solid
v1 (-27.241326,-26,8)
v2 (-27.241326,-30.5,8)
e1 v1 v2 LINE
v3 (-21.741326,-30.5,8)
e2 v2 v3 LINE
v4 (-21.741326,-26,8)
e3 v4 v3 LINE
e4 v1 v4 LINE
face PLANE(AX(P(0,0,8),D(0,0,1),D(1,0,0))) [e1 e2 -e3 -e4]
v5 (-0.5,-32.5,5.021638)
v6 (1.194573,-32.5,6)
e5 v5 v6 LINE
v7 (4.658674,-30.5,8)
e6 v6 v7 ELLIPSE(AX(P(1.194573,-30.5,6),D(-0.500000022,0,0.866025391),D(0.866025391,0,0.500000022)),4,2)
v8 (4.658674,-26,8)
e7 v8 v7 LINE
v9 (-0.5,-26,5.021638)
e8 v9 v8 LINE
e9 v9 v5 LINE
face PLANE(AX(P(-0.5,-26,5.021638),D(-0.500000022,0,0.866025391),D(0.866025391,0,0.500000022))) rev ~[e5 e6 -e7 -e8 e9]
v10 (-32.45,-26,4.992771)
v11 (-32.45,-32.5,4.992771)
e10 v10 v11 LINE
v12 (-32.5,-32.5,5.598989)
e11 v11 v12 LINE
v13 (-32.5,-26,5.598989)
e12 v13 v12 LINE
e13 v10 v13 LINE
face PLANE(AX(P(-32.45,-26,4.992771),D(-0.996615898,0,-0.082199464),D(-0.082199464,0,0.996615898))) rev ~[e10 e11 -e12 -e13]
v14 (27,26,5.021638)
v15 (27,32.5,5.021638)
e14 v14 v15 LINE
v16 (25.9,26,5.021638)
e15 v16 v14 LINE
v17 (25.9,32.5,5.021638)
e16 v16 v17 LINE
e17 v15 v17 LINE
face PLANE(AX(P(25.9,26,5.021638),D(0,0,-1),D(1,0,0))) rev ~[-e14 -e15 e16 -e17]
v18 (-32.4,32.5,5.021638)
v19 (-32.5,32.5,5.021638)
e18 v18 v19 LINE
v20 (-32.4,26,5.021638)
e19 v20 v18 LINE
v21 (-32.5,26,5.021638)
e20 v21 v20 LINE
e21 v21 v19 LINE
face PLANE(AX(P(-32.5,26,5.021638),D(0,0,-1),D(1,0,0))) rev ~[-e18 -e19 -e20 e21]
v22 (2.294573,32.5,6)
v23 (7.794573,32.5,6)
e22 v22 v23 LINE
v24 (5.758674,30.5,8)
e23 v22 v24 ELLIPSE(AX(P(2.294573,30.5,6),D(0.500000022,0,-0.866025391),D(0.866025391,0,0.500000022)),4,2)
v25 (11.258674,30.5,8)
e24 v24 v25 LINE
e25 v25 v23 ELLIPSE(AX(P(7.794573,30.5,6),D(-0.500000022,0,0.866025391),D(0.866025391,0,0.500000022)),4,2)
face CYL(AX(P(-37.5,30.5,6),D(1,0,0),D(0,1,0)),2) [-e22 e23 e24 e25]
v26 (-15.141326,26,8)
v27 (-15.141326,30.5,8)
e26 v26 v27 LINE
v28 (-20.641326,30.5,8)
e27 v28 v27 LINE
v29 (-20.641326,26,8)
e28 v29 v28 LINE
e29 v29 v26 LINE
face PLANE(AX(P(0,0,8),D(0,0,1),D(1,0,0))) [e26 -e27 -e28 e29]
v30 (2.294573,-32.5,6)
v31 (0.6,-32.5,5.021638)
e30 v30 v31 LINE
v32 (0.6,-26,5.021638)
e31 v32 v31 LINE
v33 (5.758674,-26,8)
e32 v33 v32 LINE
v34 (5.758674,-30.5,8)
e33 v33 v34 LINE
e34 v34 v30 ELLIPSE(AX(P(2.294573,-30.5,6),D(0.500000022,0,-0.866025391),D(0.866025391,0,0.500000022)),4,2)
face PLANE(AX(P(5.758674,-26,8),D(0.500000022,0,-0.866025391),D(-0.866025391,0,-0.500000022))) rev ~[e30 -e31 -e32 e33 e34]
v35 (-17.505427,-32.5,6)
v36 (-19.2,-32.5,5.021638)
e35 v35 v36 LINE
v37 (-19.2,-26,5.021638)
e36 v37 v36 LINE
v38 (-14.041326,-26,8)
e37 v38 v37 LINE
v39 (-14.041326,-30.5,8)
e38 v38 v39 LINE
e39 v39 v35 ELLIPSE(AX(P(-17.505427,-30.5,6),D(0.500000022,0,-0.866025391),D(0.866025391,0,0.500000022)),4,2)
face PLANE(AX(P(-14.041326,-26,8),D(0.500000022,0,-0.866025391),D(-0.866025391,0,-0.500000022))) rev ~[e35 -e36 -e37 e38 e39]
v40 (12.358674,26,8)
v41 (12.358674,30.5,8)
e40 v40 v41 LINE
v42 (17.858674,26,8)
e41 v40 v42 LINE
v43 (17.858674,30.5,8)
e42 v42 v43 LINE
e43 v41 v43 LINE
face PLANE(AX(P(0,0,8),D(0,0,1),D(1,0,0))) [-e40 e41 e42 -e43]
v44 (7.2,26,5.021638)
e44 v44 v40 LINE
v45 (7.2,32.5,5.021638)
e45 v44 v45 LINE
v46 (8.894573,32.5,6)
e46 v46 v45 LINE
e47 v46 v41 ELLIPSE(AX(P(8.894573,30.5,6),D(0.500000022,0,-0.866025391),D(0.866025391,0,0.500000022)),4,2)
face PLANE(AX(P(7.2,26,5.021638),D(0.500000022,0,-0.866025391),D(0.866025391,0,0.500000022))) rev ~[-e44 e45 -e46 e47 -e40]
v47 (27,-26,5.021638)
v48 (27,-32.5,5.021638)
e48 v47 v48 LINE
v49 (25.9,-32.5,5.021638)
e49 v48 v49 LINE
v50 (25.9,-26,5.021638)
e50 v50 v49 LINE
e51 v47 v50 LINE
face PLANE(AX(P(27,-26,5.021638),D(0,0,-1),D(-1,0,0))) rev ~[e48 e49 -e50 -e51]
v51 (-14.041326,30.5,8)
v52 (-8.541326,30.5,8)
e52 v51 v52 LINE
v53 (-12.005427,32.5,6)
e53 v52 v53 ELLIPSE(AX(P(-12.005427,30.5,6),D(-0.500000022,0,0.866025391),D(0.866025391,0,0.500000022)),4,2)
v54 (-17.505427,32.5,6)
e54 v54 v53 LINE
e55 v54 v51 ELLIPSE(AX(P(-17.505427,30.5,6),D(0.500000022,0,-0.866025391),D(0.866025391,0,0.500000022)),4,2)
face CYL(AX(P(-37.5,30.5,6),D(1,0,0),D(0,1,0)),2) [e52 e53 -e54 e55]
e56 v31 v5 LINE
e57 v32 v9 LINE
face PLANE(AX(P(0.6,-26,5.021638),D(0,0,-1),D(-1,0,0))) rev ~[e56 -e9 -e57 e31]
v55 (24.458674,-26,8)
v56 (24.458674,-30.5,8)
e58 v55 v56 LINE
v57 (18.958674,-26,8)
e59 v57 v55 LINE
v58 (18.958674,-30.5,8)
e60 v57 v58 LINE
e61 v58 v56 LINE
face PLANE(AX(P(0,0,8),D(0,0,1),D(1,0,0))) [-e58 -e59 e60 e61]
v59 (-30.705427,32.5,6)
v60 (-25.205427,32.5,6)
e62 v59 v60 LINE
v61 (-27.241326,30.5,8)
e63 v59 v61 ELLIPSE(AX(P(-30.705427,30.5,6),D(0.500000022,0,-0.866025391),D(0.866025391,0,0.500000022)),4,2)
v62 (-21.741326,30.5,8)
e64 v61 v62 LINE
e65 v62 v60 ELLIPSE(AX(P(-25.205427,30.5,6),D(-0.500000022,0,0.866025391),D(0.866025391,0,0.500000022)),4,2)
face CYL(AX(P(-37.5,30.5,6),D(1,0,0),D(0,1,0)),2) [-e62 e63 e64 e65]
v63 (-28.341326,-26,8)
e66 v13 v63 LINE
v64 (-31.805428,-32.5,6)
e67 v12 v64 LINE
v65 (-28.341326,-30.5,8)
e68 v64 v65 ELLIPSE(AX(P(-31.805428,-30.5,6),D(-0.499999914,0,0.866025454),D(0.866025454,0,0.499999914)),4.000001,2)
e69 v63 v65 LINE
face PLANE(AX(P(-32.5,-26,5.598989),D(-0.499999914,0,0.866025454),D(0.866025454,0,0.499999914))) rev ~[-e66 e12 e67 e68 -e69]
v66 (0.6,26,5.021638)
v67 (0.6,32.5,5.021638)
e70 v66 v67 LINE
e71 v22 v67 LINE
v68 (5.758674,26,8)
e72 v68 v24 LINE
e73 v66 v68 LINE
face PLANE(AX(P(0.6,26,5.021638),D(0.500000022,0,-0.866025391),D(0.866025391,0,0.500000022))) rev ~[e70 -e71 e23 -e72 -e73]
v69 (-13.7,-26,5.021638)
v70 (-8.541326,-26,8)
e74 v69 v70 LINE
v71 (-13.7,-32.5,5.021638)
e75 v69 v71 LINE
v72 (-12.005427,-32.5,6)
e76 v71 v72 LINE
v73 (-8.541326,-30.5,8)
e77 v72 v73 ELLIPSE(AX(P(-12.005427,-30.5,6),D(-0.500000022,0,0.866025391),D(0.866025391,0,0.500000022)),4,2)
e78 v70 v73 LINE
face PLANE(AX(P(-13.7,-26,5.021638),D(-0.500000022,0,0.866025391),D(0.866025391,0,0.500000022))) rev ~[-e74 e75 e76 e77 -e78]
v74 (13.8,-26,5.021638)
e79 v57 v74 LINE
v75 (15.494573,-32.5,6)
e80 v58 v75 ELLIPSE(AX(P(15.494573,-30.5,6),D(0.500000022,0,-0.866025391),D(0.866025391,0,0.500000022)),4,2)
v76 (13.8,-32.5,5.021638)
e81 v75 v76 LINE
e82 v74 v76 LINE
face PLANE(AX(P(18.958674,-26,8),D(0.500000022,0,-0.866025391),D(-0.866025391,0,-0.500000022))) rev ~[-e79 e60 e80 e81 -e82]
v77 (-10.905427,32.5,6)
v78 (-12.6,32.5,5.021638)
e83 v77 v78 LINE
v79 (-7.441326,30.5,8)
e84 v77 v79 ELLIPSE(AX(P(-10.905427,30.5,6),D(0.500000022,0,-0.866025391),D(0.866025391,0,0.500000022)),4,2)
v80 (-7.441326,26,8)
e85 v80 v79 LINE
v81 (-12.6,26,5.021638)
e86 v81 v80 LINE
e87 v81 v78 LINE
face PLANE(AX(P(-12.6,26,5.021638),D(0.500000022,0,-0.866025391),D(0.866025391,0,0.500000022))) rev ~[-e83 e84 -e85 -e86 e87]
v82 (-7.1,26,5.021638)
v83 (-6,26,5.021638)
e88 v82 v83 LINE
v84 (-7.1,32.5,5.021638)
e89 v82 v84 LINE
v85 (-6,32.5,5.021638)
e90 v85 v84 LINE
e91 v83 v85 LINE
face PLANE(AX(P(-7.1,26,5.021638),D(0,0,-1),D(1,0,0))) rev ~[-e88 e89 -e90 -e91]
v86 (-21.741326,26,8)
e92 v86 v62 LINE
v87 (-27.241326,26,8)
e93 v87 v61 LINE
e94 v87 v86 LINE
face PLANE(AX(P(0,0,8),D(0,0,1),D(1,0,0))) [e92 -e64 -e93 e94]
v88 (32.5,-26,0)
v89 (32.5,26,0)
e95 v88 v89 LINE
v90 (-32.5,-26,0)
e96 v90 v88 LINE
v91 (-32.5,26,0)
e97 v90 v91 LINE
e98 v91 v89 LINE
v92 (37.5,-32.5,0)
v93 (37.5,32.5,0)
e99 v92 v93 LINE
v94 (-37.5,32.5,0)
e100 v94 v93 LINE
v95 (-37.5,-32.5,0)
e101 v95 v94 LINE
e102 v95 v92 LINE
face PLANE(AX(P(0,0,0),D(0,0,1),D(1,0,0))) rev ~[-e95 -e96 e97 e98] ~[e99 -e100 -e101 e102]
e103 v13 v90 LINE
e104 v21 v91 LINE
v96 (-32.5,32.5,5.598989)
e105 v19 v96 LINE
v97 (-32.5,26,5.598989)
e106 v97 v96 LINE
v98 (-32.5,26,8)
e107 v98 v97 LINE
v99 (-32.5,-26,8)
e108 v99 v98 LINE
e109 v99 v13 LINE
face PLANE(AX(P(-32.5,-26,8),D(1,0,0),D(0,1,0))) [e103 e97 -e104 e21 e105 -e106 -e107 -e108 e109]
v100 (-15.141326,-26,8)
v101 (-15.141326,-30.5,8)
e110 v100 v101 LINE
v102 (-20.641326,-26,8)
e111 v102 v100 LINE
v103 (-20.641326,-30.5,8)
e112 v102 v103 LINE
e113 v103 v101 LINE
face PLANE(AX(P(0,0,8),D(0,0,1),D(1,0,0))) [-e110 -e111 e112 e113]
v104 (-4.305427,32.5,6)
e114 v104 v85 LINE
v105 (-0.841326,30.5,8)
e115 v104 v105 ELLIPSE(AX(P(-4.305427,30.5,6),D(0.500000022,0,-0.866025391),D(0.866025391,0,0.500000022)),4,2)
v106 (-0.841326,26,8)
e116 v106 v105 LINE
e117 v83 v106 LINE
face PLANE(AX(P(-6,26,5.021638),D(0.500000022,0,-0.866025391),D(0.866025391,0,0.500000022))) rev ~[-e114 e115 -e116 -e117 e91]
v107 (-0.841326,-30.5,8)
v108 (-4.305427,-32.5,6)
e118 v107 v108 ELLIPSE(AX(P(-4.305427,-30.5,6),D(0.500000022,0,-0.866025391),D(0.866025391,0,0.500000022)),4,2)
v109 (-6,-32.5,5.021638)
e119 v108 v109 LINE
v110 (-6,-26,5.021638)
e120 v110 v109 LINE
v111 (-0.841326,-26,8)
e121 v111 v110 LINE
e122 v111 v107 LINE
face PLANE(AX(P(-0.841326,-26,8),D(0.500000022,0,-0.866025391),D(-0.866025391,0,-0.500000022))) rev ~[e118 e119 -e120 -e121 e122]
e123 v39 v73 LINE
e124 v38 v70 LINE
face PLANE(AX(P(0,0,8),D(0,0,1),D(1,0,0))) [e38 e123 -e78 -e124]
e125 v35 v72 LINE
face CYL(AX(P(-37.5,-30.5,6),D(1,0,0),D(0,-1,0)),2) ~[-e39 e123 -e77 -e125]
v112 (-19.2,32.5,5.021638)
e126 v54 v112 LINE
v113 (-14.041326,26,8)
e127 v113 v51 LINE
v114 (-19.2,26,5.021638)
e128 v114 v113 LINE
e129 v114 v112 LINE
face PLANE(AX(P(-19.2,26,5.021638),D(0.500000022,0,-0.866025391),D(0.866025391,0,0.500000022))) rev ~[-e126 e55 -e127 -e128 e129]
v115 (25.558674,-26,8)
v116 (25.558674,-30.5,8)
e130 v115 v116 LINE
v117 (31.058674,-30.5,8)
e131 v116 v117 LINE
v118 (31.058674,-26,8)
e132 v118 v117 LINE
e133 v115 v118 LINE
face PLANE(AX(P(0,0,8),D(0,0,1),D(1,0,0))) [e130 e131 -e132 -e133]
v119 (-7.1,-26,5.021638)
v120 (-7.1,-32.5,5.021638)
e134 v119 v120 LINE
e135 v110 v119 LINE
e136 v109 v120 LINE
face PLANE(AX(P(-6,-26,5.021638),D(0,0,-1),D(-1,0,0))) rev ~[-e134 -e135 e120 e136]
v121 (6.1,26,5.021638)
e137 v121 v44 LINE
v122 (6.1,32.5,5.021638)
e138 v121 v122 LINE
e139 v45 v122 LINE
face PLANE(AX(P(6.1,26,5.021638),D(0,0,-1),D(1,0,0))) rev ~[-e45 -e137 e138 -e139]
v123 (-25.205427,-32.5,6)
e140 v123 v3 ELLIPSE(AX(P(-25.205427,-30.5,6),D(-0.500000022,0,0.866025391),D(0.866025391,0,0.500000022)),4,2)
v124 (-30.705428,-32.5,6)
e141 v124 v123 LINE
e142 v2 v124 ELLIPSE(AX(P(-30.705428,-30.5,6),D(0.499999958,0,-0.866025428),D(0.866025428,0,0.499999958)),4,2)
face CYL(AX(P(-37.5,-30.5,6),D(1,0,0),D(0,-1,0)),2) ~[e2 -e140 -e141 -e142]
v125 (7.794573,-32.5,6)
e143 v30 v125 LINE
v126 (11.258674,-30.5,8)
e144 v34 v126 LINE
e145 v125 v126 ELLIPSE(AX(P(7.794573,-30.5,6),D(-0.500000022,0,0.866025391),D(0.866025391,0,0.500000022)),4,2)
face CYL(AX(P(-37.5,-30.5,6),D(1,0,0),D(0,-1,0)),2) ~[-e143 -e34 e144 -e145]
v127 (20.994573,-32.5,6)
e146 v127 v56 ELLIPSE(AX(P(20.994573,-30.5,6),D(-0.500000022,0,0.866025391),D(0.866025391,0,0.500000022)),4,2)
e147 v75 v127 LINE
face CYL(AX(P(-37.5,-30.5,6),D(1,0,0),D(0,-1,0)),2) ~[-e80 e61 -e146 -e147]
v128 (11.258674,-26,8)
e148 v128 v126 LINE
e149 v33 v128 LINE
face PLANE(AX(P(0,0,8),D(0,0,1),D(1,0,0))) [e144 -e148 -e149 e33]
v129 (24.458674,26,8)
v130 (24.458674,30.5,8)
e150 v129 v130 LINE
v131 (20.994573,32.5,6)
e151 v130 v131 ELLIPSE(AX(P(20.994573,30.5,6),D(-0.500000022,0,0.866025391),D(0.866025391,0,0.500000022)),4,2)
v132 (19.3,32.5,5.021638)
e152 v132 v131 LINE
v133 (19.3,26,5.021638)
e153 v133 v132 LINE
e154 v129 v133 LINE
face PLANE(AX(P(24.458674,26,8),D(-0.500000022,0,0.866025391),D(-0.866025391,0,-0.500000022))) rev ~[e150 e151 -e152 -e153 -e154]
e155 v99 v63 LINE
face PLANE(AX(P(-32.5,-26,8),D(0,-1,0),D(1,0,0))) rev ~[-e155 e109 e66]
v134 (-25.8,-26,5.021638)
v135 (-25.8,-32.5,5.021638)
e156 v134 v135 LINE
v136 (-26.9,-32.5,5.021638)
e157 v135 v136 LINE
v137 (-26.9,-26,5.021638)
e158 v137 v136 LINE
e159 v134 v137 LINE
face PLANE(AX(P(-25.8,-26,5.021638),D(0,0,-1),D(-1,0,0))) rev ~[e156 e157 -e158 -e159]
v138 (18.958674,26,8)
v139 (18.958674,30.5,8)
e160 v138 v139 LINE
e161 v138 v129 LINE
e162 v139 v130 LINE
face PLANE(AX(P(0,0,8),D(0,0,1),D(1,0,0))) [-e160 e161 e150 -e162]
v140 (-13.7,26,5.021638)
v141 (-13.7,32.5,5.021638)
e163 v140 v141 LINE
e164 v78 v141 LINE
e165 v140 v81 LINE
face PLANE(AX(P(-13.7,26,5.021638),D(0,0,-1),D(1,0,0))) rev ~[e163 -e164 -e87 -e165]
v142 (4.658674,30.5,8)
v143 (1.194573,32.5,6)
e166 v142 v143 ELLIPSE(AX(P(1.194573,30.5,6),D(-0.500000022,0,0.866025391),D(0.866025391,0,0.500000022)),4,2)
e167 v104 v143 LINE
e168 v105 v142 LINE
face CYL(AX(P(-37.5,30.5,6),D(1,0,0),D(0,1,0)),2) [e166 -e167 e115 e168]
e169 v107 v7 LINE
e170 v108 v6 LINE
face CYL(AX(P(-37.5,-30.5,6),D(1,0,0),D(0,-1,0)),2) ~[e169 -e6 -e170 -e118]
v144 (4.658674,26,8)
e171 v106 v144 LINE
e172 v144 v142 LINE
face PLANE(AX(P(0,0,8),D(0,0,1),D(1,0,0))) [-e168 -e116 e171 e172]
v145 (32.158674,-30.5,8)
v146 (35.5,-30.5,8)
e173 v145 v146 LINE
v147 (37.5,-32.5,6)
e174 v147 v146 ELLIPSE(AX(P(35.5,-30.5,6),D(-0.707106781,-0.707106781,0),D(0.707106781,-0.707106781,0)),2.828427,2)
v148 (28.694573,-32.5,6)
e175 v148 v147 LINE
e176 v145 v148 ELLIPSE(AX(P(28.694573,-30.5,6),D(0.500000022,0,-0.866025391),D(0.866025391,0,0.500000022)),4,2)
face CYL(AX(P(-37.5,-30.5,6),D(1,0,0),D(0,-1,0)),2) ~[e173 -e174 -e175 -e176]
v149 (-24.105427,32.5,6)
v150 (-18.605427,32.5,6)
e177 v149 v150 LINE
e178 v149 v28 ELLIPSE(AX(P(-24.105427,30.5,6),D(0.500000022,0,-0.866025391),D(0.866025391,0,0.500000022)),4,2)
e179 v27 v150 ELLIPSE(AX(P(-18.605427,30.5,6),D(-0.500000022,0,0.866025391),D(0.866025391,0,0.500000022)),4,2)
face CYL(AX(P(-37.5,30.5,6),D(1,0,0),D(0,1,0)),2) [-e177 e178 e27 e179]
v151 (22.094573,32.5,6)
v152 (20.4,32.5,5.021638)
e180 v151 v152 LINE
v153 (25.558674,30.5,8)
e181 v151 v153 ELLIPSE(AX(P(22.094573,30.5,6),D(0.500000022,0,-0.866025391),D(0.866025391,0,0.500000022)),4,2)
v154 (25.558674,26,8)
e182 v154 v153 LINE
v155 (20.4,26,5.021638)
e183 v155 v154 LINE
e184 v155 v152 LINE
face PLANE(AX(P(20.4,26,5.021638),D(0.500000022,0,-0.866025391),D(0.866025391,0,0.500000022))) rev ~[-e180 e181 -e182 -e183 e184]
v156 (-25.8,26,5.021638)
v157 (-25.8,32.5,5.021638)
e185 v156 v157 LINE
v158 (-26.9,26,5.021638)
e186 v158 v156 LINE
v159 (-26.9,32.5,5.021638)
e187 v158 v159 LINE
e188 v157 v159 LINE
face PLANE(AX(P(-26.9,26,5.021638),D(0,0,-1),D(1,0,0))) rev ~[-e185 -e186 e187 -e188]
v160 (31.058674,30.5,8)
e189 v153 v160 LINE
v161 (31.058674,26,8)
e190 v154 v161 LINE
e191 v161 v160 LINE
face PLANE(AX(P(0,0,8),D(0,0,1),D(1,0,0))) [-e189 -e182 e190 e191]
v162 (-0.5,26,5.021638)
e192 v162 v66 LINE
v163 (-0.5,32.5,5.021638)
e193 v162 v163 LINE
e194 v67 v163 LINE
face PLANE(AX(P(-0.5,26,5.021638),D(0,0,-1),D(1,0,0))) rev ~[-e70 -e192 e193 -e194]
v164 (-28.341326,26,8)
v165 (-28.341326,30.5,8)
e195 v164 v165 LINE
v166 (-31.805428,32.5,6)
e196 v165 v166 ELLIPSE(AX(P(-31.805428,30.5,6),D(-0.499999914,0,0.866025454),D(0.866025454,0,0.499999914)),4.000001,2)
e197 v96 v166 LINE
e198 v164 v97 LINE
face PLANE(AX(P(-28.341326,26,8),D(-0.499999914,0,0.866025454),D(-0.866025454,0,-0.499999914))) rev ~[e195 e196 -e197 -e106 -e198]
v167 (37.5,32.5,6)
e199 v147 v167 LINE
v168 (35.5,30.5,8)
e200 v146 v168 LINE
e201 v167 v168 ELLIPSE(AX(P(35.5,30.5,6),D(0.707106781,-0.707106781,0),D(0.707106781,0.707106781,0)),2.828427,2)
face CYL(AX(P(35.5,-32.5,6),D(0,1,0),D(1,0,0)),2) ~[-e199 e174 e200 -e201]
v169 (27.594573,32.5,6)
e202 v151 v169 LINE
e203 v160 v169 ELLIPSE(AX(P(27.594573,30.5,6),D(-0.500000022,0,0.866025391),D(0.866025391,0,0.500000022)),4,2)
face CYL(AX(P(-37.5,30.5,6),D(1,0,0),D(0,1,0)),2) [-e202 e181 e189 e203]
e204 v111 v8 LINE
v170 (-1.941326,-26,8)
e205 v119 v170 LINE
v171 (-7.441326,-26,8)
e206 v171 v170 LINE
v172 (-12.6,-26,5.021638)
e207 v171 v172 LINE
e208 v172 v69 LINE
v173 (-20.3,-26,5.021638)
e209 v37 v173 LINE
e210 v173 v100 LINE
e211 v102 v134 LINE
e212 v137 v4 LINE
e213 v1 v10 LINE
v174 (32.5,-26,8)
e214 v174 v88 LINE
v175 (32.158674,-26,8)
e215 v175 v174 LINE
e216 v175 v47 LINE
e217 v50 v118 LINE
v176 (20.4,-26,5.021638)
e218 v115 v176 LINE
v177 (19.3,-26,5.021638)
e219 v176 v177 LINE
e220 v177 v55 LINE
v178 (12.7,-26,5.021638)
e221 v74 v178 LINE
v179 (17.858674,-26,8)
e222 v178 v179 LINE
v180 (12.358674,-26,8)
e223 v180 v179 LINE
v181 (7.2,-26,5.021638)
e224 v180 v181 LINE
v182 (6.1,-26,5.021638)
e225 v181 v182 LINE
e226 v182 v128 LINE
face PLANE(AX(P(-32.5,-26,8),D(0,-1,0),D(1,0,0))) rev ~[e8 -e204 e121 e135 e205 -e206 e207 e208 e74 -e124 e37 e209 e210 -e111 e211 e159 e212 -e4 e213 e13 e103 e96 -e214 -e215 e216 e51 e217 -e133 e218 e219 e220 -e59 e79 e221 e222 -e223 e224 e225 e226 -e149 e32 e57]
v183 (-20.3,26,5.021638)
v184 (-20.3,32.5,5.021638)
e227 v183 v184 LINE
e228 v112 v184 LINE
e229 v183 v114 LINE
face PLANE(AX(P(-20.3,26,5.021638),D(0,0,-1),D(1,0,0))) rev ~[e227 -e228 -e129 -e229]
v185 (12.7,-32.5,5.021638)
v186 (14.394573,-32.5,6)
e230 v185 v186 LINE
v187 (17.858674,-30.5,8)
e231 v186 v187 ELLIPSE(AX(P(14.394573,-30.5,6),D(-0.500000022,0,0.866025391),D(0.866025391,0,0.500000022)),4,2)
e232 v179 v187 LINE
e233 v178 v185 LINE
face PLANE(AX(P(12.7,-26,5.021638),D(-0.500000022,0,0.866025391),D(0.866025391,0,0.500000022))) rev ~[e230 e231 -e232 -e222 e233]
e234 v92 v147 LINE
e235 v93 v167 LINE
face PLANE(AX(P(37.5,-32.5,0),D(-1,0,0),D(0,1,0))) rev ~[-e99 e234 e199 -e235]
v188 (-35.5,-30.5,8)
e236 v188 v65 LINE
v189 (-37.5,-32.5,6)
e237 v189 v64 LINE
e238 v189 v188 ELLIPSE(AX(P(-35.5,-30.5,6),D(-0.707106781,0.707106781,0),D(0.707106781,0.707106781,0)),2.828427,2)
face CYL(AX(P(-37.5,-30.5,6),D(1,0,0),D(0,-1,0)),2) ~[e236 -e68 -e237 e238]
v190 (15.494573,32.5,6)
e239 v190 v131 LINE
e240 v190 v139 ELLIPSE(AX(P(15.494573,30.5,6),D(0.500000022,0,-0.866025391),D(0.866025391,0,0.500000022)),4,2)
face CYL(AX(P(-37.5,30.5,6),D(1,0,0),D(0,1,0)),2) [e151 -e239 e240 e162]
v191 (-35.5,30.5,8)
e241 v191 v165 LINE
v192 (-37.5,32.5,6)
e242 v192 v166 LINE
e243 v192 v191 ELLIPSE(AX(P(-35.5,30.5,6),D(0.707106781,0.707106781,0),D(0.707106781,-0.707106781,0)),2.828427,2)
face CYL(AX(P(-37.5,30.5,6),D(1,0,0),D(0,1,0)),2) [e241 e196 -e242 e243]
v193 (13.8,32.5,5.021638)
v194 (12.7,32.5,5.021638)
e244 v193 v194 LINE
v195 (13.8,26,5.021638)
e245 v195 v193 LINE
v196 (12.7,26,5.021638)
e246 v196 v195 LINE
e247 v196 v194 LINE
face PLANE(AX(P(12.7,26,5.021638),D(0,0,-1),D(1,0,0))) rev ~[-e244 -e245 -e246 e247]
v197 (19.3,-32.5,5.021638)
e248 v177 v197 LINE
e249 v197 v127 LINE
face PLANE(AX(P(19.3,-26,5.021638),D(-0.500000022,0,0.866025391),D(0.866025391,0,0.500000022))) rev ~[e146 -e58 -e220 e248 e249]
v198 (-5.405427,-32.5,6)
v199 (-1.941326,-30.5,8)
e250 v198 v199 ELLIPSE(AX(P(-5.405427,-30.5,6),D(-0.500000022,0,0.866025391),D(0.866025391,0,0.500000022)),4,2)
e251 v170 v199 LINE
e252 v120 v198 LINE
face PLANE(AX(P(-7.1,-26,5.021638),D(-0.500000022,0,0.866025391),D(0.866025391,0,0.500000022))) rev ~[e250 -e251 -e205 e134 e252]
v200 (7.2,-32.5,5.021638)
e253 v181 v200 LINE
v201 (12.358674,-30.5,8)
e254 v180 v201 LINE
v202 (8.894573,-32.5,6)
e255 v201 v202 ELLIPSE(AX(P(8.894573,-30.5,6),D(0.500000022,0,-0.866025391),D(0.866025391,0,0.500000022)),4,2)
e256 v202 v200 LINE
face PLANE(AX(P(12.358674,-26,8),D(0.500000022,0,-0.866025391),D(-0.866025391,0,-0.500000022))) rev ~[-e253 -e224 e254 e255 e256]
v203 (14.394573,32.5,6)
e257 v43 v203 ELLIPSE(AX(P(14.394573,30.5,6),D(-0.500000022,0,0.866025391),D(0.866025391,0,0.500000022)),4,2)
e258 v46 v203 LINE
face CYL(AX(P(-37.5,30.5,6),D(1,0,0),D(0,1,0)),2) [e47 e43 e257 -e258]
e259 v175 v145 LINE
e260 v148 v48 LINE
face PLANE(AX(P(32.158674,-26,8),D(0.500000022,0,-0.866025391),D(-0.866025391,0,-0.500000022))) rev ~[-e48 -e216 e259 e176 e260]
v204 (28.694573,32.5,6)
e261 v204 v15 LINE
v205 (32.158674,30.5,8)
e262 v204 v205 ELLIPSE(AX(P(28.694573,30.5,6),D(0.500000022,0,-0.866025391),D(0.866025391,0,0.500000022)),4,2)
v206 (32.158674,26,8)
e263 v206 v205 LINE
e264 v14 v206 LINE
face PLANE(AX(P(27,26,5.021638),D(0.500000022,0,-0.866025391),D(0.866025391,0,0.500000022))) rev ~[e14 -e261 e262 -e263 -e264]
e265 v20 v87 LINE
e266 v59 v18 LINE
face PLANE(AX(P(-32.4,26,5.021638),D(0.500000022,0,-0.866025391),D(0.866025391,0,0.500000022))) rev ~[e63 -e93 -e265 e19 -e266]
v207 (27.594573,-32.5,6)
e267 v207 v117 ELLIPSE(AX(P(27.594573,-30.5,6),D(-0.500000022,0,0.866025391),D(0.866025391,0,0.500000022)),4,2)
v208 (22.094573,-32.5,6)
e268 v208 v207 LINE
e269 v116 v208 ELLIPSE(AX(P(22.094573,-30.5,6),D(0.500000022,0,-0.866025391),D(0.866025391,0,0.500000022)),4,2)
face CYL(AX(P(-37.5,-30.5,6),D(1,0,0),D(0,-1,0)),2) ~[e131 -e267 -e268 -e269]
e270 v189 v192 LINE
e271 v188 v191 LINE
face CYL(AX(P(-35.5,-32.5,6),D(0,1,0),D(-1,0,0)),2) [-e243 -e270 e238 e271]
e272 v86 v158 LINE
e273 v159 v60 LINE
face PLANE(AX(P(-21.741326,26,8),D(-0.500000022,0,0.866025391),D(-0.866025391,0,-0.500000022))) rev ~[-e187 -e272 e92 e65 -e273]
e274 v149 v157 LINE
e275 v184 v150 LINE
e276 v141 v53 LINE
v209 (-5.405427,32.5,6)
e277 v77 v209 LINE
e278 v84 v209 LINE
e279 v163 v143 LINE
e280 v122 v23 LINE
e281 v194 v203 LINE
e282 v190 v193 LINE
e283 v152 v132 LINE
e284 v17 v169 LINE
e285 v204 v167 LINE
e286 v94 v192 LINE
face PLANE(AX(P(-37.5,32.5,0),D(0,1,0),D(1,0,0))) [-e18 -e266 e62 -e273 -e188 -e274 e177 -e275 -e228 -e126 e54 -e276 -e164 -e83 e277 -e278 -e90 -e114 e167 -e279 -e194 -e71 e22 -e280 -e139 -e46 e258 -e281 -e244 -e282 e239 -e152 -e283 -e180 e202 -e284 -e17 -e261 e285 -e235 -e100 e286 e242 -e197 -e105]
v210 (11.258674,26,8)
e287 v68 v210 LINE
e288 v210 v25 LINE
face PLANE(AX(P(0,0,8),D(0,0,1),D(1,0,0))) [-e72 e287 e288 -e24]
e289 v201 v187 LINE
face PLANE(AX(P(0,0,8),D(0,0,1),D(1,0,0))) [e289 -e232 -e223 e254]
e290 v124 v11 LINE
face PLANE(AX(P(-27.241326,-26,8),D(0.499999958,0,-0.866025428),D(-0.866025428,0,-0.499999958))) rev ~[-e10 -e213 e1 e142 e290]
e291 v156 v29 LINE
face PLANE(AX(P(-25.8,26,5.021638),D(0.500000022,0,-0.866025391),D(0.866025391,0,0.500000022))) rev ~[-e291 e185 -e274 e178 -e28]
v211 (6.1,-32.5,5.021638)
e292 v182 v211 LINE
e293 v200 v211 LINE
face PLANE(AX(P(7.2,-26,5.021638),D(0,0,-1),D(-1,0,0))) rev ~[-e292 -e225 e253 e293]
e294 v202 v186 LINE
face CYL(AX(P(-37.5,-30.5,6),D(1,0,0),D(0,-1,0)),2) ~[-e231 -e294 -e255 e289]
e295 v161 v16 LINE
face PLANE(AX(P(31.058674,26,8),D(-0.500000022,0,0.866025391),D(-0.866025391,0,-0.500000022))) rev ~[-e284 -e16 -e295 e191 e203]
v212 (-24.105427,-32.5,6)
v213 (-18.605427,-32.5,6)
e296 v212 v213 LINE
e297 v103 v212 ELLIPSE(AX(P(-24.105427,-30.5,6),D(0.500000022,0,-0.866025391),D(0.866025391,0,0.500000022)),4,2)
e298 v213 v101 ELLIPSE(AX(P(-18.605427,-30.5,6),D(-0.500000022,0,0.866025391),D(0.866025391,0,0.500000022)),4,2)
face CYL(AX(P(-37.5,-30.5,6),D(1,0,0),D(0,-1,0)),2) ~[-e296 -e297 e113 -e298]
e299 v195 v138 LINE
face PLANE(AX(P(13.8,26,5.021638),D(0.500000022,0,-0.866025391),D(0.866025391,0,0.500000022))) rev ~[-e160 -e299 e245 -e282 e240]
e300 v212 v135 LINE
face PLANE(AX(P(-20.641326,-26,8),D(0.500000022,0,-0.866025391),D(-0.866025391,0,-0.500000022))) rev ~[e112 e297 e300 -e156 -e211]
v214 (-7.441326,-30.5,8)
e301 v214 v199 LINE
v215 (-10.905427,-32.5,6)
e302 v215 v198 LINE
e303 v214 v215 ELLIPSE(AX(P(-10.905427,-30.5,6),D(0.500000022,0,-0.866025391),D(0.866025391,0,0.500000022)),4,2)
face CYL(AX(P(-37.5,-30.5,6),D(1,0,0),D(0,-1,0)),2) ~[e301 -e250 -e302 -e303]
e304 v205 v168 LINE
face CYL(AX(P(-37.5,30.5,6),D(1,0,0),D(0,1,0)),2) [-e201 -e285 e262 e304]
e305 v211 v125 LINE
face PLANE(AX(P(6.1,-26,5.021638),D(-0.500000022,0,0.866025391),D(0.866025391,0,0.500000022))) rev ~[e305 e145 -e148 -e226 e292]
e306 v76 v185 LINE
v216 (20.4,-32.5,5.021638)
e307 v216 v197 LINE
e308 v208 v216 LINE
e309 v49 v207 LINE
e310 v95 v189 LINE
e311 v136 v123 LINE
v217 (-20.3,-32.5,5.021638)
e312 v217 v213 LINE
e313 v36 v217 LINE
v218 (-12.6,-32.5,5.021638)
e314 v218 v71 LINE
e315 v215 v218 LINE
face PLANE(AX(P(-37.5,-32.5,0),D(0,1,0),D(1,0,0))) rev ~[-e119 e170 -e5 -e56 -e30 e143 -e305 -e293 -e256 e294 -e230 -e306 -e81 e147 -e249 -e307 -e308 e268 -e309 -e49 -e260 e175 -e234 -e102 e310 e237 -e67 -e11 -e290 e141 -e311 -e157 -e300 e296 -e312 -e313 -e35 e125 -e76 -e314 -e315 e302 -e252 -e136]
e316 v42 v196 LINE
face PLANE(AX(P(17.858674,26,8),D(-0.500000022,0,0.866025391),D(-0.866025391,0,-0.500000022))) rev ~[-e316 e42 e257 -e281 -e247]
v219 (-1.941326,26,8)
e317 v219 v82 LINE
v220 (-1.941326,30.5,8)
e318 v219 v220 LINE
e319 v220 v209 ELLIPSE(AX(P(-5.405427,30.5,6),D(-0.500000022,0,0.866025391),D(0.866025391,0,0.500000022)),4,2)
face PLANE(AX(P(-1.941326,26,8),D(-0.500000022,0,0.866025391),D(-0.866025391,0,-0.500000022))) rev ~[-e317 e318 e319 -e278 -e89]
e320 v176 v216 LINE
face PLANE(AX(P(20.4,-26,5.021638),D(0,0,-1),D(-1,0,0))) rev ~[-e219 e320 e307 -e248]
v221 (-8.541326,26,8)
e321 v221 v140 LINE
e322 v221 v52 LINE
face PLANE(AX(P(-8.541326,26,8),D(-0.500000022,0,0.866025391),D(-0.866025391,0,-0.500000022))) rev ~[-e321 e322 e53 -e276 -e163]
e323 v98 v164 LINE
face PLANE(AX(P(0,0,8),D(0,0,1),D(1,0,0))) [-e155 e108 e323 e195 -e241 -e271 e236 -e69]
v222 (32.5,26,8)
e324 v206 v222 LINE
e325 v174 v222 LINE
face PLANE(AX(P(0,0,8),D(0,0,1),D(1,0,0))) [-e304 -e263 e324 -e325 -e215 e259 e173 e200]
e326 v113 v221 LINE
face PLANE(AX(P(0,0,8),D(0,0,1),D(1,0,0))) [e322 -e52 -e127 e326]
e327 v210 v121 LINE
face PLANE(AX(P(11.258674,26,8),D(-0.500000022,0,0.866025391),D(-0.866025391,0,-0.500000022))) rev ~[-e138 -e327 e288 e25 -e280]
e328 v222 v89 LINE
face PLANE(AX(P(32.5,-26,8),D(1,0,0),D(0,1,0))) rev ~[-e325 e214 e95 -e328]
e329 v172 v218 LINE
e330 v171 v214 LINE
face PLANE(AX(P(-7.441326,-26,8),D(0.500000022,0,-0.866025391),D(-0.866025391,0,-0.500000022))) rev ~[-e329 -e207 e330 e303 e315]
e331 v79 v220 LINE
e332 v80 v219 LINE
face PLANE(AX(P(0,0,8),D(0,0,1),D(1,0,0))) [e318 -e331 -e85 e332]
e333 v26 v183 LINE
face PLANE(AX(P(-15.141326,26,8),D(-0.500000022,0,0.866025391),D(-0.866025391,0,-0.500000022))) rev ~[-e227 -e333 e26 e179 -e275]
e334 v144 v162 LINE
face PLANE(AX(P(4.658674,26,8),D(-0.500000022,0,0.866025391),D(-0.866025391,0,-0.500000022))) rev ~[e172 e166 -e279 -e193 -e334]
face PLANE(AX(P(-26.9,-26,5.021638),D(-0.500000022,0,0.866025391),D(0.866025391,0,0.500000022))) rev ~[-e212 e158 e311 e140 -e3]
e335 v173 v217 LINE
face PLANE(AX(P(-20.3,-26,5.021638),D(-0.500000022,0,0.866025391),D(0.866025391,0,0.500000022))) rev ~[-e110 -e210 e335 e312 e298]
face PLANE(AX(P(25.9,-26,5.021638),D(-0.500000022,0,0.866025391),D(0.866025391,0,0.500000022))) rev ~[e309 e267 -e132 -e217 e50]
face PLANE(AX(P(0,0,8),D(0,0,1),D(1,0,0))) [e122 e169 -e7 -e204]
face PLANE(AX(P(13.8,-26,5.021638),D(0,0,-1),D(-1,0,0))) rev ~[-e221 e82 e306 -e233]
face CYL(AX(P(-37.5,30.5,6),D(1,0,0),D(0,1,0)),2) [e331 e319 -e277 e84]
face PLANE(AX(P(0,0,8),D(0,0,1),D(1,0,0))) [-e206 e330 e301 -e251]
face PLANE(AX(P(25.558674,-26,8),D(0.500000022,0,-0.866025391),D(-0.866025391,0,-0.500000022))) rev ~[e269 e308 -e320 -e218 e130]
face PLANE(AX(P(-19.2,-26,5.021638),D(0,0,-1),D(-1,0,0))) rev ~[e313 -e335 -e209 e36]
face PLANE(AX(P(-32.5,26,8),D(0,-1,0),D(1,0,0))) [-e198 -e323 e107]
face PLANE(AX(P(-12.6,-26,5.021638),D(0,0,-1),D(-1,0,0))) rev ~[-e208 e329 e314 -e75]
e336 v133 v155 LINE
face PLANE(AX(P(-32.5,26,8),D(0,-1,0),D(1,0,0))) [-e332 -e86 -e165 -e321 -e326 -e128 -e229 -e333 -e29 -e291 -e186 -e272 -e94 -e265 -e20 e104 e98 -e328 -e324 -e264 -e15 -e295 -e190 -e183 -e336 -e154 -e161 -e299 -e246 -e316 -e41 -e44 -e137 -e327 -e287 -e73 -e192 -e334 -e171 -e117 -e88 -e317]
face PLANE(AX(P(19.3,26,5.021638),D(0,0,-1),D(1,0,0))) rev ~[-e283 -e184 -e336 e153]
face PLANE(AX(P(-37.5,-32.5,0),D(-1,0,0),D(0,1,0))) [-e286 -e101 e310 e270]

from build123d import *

# Parameters (mm, degrees)
F0_W     = 75
F0_H     = 65
F1_DEPTH = 8
F2_R     = 2
F3_W     = 65
F3_H     = 52
F4_DEPTH = 8.001
F7_DEPTH = 6.501
F8_DEPTH = 6.501


with BuildPart() as f1:
    # F0 (on Top) → F1 (new body)
    with BuildSketch(Plane.XY):
        Rectangle(F0_W, F0_H)
    extrude(amount=F1_DEPTH)

    # F2
    f2_edges = [f1.edges().sort_by_distance(p)[0] for p in [
        (0, -32.5, 8),
        (37.5, 0, 8),
        (0, 32.5, 8),
        (-37.5, 0, 8),
    ]]
    fillet(f2_edges, radius=F2_R)

    # F3 (on face) → F4 (cut, through all)
    with BuildSketch(Plane.XY.offset(8)):
        Rectangle(F3_W, F3_H)
    extrude(amount=-F4_DEPTH, mode=Mode.SUBTRACT)

    # F5 (on face) → F7 (cut, through all)
    with BuildSketch(Plane.XZ.offset(-26)):
        Polygon((-27.241326, 8), (-28.341326, 8), (-32.5, 5.598989), (-32.5, 5.021638), (-32.4, 5.021638), align=None)
        Polygon((-20.641326, 8), (-21.741326, 8), (-26.9, 5.021638), (-25.8, 5.021638), align=None)
        Polygon((-14.041326, 8), (-15.141326, 8), (-20.3, 5.021638), (-19.2, 5.021638), align=None)
        Polygon((-7.441326, 8), (-8.541326, 8), (-13.7, 5.021638), (-12.6, 5.021638), align=None)
        Polygon((-0.841326, 8), (-1.941326, 8), (-7.1, 5.021638), (-6, 5.021638), align=None)
        Polygon((5.758674, 8), (4.658674, 8), (-0.5, 5.021638), (0.6, 5.021638), align=None)
        Polygon((12.358674, 8), (11.258674, 8), (6.1, 5.021638), (7.2, 5.021638), align=None)
        Polygon((13.8, 5.021638), (18.958674, 8), (17.858674, 8), (12.7, 5.021638), align=None)
        Polygon((20.4, 5.021638), (25.558674, 8), (24.458674, 8), (19.3, 5.021638), align=None)
        Polygon((27, 5.021638), (32.158674, 8), (31.058674, 8), (25.9, 5.021638), align=None)
    extrude(amount=-F7_DEPTH, mode=Mode.SUBTRACT)

    # F6 (on face) → F8 (cut, through all)
    with BuildSketch(Plane(origin=(0, -26, 0), x_dir=(-1, 0, 0), z_dir=(0, 1, 0))):
        Polygon((32.5, 5.598989), (28.341326, 8), (27.241326, 8), (32.45, 4.992771), align=None)
        Polygon((26.9, 5.021638), (21.741326, 8), (20.641326, 8), (25.8, 5.021638), align=None)
        Polygon((20.3, 5.021638), (15.141326, 8), (14.041326, 8), (19.2, 5.021638), align=None)
        Polygon((13.7, 5.021638), (8.541326, 8), (7.441326, 8), (12.6, 5.021638), align=None)
        Polygon((7.1, 5.021638), (1.941326, 8), (0.841326, 8), (6, 5.021638), align=None)
        Polygon((0.5, 5.021638), (-4.658674, 8), (-5.758674, 8), (-0.6, 5.021638), align=None)
        Polygon((-11.258674, 8), (-12.358674, 8), (-7.2, 5.021638), (-6.1, 5.021638), align=None)
        Polygon((-17.858674, 8), (-18.958674, 8), (-13.8, 5.021638), (-12.7, 5.021638), align=None)
        Polygon((-24.458674, 8), (-25.558674, 8), (-20.4, 5.021638), (-19.3, 5.021638), align=None)
        Polygon((-31.058674, 8), (-32.158674, 8), (-27, 5.021638), (-25.9, 5.021638), align=None)
    extrude(amount=-F8_DEPTH, mode=Mode.SUBTRACT)


solid = f1.part
